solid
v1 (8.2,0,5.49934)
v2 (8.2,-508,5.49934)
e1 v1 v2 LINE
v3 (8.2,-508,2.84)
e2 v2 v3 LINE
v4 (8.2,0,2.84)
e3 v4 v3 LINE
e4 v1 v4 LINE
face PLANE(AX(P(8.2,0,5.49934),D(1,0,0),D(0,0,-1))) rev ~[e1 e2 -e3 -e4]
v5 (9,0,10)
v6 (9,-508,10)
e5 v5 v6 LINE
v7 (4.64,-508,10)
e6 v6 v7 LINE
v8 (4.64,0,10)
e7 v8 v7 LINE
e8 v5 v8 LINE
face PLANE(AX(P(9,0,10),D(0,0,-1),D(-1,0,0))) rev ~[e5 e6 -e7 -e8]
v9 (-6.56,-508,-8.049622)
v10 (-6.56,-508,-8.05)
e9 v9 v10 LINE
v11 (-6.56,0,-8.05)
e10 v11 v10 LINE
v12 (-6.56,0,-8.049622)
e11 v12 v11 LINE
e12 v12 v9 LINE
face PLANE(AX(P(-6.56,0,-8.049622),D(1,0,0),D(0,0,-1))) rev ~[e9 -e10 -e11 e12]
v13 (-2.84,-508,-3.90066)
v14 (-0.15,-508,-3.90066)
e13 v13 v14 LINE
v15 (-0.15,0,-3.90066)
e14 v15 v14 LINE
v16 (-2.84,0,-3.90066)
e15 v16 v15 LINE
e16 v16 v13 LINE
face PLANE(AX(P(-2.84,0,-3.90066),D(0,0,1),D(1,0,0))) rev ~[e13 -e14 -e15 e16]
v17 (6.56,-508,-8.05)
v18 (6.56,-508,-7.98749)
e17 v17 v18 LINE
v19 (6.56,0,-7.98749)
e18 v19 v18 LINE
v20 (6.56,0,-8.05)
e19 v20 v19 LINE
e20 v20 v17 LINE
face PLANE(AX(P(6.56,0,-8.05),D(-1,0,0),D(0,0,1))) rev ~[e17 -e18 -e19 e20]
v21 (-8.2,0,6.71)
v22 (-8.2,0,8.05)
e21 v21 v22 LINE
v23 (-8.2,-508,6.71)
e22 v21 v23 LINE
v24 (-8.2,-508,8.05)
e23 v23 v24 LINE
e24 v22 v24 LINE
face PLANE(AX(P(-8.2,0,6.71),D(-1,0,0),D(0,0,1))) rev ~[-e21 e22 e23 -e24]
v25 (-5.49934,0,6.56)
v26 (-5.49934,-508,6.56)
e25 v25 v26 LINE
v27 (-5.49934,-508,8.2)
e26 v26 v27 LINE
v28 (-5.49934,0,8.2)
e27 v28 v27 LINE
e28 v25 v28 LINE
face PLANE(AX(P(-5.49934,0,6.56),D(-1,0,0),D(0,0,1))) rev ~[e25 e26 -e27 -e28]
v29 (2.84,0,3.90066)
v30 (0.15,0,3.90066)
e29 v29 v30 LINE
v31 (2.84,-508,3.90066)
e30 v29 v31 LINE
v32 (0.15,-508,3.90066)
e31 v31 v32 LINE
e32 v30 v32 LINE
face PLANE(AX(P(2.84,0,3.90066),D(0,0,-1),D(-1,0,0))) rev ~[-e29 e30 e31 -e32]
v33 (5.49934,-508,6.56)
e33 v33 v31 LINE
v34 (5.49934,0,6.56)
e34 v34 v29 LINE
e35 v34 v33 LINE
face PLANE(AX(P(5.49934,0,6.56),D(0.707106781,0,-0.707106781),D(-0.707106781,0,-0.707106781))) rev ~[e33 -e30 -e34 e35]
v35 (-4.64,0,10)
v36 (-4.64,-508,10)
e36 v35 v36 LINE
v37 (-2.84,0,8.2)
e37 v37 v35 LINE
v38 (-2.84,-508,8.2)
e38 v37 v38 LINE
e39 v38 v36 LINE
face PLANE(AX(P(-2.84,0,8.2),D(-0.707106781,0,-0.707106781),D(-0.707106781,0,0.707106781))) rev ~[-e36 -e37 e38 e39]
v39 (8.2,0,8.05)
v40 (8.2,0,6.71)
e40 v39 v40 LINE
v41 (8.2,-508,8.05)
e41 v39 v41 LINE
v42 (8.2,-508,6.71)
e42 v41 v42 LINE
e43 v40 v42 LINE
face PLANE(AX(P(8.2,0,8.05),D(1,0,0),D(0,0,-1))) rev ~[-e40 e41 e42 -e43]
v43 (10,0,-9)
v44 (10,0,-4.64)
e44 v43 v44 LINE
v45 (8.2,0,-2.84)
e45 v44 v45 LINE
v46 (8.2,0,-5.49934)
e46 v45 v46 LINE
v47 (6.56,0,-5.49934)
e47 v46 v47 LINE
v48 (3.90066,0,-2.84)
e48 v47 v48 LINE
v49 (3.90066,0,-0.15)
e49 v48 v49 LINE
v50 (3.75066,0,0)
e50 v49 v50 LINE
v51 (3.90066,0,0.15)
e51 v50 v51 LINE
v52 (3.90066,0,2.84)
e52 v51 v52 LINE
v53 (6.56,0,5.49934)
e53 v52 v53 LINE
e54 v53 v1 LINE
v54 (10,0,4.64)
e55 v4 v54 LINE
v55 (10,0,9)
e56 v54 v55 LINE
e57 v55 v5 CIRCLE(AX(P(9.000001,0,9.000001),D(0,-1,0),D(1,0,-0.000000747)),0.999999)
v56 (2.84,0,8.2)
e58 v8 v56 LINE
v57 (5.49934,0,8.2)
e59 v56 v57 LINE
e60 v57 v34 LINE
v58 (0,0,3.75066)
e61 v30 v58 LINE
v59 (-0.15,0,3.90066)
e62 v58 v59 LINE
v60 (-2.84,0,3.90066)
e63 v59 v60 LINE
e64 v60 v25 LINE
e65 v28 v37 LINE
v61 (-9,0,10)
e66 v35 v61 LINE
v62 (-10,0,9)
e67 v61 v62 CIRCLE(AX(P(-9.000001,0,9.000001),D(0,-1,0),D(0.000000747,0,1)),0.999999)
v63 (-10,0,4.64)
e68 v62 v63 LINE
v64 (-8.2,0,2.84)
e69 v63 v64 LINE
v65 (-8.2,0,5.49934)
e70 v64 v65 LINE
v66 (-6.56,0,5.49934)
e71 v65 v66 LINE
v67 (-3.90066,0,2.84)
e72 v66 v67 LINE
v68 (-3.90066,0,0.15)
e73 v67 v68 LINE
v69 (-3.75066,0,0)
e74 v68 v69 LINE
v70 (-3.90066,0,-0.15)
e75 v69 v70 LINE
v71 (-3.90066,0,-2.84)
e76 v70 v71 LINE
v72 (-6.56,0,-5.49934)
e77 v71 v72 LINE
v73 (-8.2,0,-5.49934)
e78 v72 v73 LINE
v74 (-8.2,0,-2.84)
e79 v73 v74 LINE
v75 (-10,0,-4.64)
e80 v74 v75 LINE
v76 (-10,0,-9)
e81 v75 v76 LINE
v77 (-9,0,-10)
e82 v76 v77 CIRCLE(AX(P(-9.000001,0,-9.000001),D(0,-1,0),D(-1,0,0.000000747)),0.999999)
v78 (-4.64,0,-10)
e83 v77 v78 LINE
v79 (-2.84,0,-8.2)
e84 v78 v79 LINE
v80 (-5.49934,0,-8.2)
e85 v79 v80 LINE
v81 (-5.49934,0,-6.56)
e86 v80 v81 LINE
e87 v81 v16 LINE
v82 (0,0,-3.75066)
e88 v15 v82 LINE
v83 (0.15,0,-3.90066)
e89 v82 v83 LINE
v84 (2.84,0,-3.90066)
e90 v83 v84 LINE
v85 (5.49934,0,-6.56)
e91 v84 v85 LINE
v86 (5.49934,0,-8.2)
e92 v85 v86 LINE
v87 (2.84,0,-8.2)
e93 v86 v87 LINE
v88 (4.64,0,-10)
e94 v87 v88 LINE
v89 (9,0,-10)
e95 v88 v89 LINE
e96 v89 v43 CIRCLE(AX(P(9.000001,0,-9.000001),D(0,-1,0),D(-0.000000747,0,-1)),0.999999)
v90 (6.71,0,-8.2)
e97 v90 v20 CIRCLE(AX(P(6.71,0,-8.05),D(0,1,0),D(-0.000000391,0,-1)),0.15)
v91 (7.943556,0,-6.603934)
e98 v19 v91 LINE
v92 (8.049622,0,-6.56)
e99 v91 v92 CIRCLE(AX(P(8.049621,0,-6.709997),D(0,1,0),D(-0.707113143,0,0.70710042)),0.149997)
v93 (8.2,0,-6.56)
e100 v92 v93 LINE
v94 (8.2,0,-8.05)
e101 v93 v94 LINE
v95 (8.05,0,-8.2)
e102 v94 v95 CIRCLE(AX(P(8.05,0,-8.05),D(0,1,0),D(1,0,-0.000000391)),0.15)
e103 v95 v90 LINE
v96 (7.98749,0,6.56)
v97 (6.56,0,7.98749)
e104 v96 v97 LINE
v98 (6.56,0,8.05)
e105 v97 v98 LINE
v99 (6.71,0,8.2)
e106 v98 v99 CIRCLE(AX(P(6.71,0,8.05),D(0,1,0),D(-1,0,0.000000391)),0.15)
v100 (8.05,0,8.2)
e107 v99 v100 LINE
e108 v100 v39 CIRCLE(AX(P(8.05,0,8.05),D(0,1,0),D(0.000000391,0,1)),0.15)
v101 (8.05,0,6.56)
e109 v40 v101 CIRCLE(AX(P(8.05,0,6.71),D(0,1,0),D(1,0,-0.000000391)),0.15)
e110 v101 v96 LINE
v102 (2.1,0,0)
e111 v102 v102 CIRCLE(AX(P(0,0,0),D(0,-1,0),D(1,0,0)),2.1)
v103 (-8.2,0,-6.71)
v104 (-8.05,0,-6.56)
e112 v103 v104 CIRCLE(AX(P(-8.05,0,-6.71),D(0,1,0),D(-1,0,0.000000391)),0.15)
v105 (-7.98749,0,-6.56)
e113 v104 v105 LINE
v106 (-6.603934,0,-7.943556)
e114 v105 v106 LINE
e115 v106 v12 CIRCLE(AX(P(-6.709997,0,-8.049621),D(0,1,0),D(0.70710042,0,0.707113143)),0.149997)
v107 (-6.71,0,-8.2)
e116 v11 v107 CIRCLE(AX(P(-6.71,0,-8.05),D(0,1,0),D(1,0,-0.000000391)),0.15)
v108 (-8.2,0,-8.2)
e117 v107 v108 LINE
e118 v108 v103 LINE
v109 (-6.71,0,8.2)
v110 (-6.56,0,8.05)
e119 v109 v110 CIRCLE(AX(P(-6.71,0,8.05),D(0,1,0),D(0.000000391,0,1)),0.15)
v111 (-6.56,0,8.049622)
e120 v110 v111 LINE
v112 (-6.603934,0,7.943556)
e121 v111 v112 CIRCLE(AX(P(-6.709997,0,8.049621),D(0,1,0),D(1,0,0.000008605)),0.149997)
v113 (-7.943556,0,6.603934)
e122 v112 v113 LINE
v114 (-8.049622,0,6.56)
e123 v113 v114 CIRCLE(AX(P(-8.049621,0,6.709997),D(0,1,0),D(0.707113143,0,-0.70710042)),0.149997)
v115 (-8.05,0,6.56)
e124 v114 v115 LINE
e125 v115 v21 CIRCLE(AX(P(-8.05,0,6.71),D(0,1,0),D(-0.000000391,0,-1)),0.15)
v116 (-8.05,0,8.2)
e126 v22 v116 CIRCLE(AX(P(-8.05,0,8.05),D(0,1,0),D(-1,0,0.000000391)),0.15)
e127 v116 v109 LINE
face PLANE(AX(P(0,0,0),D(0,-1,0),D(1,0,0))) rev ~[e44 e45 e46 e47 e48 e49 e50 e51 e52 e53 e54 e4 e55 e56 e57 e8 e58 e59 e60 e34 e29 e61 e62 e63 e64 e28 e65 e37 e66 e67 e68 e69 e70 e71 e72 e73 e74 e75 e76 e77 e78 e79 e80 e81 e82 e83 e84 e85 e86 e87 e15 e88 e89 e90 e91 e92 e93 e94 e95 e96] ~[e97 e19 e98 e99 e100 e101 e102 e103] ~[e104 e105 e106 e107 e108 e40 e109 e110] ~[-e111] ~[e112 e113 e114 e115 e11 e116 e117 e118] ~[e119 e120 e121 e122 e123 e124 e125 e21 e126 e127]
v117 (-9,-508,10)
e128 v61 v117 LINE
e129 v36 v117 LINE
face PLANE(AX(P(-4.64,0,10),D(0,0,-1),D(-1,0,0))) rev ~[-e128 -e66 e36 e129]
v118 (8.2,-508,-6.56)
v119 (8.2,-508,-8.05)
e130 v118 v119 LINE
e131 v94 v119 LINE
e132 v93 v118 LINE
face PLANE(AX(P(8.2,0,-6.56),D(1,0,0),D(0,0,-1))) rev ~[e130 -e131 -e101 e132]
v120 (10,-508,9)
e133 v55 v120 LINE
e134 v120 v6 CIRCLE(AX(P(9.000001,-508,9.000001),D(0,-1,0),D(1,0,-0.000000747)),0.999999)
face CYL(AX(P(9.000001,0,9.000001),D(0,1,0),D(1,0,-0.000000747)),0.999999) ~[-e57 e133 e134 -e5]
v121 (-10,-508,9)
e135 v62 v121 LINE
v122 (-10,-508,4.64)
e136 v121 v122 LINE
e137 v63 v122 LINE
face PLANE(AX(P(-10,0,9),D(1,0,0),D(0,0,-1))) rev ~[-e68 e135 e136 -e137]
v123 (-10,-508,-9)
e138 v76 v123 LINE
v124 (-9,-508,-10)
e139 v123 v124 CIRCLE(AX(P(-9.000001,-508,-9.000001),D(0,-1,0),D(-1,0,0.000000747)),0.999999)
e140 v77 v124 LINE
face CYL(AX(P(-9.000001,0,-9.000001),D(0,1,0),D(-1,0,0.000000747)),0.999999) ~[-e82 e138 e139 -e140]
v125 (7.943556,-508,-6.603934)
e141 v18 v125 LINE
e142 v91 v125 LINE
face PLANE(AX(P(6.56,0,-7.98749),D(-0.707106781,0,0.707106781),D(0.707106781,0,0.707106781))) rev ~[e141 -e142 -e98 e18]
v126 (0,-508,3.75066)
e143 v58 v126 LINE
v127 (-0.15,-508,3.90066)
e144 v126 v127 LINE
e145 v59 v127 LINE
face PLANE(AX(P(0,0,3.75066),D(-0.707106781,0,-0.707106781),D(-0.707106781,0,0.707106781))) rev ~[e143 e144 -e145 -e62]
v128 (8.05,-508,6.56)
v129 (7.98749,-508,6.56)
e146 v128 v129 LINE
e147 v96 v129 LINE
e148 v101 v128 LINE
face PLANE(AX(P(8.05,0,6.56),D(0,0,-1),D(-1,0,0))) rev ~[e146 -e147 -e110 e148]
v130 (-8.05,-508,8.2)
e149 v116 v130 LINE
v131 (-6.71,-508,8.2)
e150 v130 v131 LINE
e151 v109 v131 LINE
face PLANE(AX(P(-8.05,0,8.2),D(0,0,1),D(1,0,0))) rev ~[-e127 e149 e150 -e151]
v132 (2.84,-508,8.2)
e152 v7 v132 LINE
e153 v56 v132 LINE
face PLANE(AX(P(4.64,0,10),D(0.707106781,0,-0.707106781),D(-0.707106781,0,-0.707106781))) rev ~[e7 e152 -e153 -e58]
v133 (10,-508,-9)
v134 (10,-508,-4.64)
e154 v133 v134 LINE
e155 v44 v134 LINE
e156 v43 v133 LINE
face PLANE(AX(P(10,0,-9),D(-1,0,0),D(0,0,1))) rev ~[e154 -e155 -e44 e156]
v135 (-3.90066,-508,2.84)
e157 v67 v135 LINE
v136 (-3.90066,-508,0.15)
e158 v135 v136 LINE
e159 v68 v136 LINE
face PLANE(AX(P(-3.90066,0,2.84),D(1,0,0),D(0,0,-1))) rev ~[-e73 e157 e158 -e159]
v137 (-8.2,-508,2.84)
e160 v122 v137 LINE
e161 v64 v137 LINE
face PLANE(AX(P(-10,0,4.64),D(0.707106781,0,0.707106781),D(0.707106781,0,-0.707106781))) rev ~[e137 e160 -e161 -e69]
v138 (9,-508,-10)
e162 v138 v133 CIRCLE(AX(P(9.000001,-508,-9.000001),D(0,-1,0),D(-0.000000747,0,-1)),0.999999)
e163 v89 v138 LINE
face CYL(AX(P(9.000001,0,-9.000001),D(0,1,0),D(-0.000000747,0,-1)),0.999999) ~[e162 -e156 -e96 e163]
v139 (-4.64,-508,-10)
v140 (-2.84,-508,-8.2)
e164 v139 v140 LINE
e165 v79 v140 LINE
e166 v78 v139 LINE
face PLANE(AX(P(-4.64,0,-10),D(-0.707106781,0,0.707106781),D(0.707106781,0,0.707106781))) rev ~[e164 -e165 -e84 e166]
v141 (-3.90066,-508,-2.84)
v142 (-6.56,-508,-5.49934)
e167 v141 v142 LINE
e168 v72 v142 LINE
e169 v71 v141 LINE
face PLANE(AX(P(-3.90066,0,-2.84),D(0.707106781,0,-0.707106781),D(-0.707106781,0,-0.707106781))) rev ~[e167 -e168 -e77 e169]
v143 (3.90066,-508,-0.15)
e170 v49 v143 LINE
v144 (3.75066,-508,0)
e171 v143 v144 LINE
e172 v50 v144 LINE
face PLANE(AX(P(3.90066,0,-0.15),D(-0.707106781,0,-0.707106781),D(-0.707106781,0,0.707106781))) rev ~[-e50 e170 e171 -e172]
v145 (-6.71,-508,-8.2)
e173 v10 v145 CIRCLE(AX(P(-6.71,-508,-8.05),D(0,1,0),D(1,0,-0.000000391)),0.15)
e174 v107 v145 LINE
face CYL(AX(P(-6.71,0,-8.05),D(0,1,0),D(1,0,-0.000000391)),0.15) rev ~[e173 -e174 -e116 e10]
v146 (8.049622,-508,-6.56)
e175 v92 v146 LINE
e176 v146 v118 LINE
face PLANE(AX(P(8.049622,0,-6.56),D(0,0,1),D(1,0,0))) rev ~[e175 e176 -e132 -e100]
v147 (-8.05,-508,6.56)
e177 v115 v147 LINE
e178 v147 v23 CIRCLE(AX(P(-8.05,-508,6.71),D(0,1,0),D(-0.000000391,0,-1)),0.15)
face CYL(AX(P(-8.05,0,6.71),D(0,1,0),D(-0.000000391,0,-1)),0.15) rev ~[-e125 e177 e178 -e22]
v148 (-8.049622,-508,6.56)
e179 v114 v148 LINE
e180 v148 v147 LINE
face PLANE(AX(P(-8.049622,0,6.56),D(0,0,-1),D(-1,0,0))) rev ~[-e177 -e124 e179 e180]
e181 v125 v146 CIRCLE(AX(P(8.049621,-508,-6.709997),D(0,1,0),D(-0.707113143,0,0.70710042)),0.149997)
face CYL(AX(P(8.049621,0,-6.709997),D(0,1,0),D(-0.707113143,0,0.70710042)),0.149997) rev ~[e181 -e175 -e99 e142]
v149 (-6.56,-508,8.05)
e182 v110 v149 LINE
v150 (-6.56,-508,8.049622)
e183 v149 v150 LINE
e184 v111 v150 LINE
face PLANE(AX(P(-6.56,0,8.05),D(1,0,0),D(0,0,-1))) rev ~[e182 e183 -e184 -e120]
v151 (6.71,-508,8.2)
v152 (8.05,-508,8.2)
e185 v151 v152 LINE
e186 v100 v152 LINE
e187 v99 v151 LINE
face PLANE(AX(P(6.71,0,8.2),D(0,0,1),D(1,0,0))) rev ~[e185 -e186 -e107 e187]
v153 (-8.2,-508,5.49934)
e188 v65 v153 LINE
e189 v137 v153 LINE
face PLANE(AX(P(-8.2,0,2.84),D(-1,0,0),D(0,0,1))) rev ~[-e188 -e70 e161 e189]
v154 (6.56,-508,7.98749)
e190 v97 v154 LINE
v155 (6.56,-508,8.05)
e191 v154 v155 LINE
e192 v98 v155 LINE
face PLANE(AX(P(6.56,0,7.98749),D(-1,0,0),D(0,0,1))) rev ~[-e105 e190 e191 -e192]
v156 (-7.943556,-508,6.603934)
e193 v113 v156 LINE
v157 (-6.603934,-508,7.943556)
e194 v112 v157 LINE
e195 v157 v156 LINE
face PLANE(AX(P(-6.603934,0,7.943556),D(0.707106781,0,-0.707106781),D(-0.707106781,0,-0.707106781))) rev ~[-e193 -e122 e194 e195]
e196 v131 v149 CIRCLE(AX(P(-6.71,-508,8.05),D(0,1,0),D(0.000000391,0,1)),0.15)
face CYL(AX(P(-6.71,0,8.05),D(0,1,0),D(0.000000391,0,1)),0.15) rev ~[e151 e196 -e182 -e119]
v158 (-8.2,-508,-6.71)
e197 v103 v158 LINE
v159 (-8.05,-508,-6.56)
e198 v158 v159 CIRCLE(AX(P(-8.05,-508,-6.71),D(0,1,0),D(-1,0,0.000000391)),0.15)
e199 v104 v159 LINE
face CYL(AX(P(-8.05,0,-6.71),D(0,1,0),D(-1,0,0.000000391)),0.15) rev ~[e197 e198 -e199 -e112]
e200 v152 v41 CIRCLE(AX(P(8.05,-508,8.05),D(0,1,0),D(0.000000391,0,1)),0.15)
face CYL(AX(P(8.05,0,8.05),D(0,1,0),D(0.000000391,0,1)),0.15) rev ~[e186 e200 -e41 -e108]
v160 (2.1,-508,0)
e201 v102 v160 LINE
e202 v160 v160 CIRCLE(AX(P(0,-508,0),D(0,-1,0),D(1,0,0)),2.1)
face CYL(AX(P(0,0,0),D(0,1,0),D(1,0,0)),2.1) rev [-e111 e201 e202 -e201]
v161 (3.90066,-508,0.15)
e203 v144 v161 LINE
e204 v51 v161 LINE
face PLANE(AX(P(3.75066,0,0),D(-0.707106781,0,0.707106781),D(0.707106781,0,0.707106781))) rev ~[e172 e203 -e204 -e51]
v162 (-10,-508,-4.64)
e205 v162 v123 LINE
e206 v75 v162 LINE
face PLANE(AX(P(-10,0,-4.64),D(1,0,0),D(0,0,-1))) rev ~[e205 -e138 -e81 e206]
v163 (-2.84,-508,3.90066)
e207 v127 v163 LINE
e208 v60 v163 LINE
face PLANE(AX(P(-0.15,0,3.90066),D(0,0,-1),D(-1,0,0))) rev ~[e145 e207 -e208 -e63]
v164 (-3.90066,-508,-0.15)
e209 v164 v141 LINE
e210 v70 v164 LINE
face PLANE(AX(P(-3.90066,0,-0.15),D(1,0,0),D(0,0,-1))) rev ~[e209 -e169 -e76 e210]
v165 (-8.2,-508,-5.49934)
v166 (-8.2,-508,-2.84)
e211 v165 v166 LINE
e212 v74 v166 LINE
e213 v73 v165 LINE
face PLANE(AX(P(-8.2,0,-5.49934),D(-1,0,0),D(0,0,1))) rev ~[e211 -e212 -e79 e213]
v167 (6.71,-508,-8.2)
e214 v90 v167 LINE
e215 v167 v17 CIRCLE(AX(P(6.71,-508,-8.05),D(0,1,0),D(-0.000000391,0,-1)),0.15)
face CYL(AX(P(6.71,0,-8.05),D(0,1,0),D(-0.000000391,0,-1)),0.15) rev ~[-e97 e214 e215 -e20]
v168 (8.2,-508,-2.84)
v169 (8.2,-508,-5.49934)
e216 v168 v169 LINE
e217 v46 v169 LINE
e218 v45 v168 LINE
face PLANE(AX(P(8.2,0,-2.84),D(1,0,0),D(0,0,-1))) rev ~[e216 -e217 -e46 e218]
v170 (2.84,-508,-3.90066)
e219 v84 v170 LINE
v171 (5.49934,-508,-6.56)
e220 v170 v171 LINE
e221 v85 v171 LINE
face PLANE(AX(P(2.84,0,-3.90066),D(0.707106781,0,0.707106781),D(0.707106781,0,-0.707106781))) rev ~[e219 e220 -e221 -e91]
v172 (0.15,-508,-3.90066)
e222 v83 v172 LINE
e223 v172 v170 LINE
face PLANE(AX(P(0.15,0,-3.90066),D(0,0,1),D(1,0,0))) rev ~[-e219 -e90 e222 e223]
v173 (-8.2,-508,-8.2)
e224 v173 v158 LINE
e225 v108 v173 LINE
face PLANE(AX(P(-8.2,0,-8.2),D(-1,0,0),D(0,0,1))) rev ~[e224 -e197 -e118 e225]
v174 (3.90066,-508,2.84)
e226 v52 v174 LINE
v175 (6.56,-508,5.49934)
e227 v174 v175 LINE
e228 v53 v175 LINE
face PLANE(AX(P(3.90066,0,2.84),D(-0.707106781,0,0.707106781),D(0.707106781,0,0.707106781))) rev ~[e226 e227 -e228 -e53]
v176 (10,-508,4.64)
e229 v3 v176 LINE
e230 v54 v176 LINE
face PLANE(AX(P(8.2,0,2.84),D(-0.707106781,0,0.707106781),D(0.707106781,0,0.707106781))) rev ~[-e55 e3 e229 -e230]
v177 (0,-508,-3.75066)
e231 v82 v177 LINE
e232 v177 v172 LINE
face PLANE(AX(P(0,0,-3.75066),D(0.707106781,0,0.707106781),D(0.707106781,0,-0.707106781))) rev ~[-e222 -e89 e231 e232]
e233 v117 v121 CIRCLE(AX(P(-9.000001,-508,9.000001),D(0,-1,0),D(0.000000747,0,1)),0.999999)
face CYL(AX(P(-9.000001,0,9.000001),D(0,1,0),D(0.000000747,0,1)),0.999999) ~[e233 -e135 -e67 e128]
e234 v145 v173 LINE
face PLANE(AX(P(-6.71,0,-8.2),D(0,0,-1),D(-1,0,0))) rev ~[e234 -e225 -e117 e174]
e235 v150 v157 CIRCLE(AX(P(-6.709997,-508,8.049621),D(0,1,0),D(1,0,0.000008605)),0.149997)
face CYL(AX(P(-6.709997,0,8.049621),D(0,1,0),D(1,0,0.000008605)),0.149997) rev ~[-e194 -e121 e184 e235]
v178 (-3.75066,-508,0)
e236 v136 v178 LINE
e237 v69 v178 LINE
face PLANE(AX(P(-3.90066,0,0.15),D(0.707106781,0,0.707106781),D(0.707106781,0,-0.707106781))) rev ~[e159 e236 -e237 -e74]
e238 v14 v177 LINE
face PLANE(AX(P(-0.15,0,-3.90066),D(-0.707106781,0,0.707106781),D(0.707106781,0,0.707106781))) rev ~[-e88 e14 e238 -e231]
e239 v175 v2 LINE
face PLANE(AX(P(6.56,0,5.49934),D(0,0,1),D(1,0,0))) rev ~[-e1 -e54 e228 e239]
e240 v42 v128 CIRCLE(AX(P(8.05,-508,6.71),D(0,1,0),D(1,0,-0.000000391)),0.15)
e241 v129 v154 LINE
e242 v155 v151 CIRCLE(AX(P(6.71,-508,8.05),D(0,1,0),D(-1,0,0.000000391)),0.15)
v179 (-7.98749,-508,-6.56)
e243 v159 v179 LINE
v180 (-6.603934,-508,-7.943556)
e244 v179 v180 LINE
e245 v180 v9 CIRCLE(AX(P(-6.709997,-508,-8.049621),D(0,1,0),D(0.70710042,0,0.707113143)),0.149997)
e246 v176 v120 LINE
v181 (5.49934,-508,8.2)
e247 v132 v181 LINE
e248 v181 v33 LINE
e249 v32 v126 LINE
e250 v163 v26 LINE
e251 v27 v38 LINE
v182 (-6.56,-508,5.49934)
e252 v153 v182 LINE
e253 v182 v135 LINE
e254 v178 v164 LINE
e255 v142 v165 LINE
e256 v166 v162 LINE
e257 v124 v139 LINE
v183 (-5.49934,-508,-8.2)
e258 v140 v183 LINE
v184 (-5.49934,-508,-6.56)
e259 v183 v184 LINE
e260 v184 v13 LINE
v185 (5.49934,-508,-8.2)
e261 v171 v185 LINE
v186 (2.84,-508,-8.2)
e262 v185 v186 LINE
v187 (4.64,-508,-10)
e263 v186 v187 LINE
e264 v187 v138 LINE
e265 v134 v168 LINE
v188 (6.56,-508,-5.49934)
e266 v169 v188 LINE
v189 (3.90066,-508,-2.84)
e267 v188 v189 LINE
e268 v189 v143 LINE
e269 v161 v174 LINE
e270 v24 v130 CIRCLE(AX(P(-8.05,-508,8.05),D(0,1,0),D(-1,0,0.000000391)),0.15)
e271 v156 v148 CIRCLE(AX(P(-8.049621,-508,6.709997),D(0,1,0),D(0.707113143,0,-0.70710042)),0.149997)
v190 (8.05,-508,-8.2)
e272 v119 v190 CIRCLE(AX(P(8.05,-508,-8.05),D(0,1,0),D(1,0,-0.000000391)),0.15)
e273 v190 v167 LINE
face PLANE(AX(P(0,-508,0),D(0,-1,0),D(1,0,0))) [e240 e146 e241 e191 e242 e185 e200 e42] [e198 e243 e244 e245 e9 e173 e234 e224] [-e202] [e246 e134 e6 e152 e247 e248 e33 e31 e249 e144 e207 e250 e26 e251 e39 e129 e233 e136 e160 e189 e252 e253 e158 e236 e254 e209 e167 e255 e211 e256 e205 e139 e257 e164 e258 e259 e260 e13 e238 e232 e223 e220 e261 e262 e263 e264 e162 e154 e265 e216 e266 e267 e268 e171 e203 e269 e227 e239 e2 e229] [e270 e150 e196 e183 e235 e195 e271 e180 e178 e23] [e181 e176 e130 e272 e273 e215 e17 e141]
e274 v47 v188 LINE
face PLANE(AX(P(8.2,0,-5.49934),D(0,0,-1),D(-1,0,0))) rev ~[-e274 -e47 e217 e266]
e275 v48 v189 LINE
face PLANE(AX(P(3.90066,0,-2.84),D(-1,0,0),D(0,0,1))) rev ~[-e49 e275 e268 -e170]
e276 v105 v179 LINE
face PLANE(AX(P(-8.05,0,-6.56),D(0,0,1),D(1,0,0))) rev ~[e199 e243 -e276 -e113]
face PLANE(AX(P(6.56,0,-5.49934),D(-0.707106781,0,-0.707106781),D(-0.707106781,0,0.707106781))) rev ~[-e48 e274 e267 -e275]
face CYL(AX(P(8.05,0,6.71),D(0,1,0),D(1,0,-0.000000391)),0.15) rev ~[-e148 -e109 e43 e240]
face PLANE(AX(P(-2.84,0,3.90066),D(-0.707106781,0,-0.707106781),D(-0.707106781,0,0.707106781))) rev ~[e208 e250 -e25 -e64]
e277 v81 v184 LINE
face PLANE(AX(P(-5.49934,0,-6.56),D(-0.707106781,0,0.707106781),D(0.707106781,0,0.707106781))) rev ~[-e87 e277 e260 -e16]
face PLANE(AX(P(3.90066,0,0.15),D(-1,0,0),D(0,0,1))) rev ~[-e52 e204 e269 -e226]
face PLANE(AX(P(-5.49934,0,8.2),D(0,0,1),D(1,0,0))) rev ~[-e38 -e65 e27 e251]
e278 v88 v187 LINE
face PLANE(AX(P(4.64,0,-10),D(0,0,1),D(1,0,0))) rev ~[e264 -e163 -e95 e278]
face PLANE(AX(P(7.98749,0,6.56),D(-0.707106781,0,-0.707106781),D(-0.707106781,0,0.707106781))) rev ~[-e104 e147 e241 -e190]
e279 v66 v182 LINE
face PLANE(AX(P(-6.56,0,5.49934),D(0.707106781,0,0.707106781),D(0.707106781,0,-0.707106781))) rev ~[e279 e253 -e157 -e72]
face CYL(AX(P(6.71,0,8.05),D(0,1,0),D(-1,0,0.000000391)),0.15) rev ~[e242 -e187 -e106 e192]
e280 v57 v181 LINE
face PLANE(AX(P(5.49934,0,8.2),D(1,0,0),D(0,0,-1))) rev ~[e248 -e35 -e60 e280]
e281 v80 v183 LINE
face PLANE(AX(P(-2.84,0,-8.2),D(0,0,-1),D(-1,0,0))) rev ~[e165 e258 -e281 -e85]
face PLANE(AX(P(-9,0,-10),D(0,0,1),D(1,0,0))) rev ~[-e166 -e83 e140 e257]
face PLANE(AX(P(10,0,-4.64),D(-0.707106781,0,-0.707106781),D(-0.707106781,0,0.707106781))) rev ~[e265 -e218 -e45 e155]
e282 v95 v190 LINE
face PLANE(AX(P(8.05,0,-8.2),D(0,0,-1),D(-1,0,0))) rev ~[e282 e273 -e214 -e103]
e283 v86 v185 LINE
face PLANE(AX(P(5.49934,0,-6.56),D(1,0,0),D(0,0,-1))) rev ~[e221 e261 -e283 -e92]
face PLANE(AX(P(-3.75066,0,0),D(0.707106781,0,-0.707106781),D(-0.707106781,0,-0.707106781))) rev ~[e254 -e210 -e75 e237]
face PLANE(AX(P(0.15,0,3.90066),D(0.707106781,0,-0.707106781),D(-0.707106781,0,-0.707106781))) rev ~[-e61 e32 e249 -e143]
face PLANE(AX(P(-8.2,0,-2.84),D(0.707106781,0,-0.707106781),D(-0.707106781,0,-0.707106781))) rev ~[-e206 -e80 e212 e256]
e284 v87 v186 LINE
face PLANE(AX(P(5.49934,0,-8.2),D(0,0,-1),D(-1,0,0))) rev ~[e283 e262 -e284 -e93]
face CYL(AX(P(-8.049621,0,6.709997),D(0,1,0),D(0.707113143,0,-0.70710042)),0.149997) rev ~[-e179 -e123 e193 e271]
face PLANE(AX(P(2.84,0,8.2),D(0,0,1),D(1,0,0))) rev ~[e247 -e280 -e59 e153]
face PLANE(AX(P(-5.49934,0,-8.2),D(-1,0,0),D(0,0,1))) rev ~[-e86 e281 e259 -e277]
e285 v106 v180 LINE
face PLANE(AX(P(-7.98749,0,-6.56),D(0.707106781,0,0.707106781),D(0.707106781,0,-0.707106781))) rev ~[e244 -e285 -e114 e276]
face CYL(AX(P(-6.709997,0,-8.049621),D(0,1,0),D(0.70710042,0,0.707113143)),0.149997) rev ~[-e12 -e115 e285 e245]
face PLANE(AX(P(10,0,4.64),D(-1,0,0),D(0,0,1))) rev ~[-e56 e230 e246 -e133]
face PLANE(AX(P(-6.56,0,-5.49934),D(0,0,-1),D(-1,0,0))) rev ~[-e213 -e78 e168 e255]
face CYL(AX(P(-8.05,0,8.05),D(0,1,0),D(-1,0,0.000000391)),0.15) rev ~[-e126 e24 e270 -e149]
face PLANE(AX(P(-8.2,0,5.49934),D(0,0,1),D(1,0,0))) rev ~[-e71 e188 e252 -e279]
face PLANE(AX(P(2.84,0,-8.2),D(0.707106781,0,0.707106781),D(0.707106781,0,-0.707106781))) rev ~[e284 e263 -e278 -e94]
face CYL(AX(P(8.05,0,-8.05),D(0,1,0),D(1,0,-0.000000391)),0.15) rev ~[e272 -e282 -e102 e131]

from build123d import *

# Parameters (mm, degrees)
F0_R     = 2.1
F1_DEPTH = 508


with BuildPart() as f1:
    # F0 (on Front) → F1 (new body)
    with BuildSketch(Plane.XZ):
        with BuildLine():
            Line((-4.64, 10), (-9, 10))
            ThreePointArc((-9, 10), (-9.707107, 9.707107), (-10, 9))
            Line((-10, 9), (-10, 4.64))
            Line((-10, 4.64), (-8.2, 2.84))
            Line((-8.2, 2.84), (-8.2, 5.49934))
            Line((-8.2, 5.49934), (-6.56, 5.49934))
            Line((-6.56, 5.49934), (-3.90066, 2.84))
            Line((-3.90066, 2.84), (-3.90066, 0.15))
            Line((-3.90066, 0.15), (-3.75066, 0))
            Line((-3.75066, 0), (-3.90066, -0.15))
            Line((-3.90066, -0.15), (-3.90066, -2.84))
            Line((-3.90066, -2.84), (-6.56, -5.49934))
            Line((-6.56, -5.49934), (-8.2, -5.49934))
            Line((-8.2, -5.49934), (-8.2, -2.84))
            Line((-8.2, -2.84), (-10, -4.64))
            Line((-10, -4.64), (-10, -9))
            ThreePointArc((-10, -9), (-9.707107, -9.707107), (-9, -10))
            Line((-9, -10), (-4.64, -10))
            Line((-4.64, -10), (-2.84, -8.2))
            Line((-2.84, -8.2), (-5.49934, -8.2))
            Line((-5.49934, -8.2), (-5.49934, -6.56))
            Line((-5.49934, -6.56), (-2.84, -3.90066))
            Line((-2.84, -3.90066), (-0.15, -3.90066))
            Line((-0.15, -3.90066), (0, -3.75066))
            Line((0, -3.75066), (0.15, -3.90066))
            Line((0.15, -3.90066), (2.84, -3.90066))
            Line((2.84, -3.90066), (5.49934, -6.56))
            Line((5.49934, -6.56), (5.49934, -8.2))
            Line((5.49934, -8.2), (2.84, -8.2))
            Line((2.84, -8.2), (4.64, -10))
            Line((4.64, -10), (9, -10))
            ThreePointArc((9, -10), (9.707107, -9.707107), (10, -9))
            Line((10, -9), (10, -4.64))
            Line((10, -4.64), (8.2, -2.84))
            Line((8.2, -2.84), (8.2, -5.49934))
            Line((8.2, -5.49934), (6.56, -5.49934))
            Line((6.56, -5.49934), (3.90066, -2.84))
            Line((3.90066, -2.84), (3.90066, -0.15))
            Line((3.90066, -0.15), (3.75066, 0))
            Line((3.75066, 0), (3.90066, 0.15))
            Line((3.90066, 0.15), (3.90066, 2.84))
            Line((3.90066, 2.84), (6.56, 5.49934))
            Line((6.56, 5.49934), (8.2, 5.49934))
            Line((8.2, 5.49934), (8.2, 2.84))
            Line((8.2, 2.84), (10, 4.64))
            Line((10, 4.64), (10, 9))
            ThreePointArc((10, 9), (9.707107, 9.707107), (9, 10))
            Line((9, 10), (4.64, 10))
            Line((4.64, 10), (2.84, 8.2))
            Line((2.84, 8.2), (5.49934, 8.2))
            Line((5.49934, 8.2), (5.49934, 6.56))
            Line((5.49934, 6.56), (2.84, 3.90066))
            Line((2.84, 3.90066), (0.15, 3.90066))
            Line((0.15, 3.90066), (0, 3.75066))
            Line((0, 3.75066), (-0.15, 3.90066))
            Line((-0.15, 3.90066), (-2.84, 3.90066))
            Line((-2.84, 3.90066), (-5.49934, 6.56))
            Line((-5.49934, 6.56), (-5.49934, 8.2))
            Line((-5.49934, 8.2), (-2.84, 8.2))
            Line((-2.84, 8.2), (-4.64, 10))
        make_face()
        with BuildLine():
            Line((-8.2, -8.2), (-8.2, -6.71))
            ThreePointArc((-8.2, -6.71), (-8.156066, -6.603934), (-8.05, -6.56))
            Line((-8.05, -6.56), (-7.98749, -6.56))
            Line((-7.98749, -6.56), (-6.603934, -7.943556))
            ThreePointArc((-6.603934, -7.943556), (-6.571418, -7.992219), (-6.56, -8.049622))
            Line((-6.56, -8.049622), (-6.56, -8.05))
            ThreePointArc((-6.56, -8.05), (-6.603934, -8.156066), (-6.71, -8.2))
            Line((-6.71, -8.2), (-8.2, -8.2))
        make_face(mode=Mode.SUBTRACT)
        with BuildLine():
            ThreePointArc((6.71, -8.2), (6.603934, -8.156066), (6.56, -8.05))
            Line((6.56, -8.05), (6.56, -7.98749))
            Line((6.56, -7.98749), (7.943556, -6.603934))
            ThreePointArc((7.943556, -6.603934), (7.992219, -6.571418), (8.049622, -6.56))
            Line((8.049622, -6.56), (8.2, -6.56))
            Line((8.2, -6.56), (8.2, -8.05))
            ThreePointArc((8.2, -8.05), (8.156066, -8.156066), (8.05, -8.2))
            Line((8.05, -8.2), (6.71, -8.2))
        make_face(mode=Mode.SUBTRACT)
        with BuildLine():
            ThreePointArc((-8.2, 8.05), (-8.156066, 8.156066), (-8.05, 8.2))
            Line((-8.05, 8.2), (-6.71, 8.2))
            ThreePointArc((-6.71, 8.2), (-6.603934, 8.156066), (-6.56, 8.05))
            Line((-6.56, 8.05), (-6.56, 8.049622))
            ThreePointArc((-6.56, 8.049622), (-6.571418, 7.992219), (-6.603934, 7.943556))
            Line((-6.603934, 7.943556), (-7.943556, 6.603934))
            ThreePointArc((-7.943556, 6.603934), (-7.992219, 6.571418), (-8.049622, 6.56))
            Line((-8.049622, 6.56), (-8.05, 6.56))
            ThreePointArc((-8.05, 6.56), (-8.156066, 6.603934), (-8.2, 6.71))
            Line((-8.2, 6.71), (-8.2, 8.05))
        make_face(mode=Mode.SUBTRACT)
        Circle(F0_R, mode=Mode.SUBTRACT)
        with BuildLine():
            Line((8.2, 8.05), (8.2, 6.71))
            ThreePointArc((8.2, 6.71), (8.156066, 6.603934), (8.05, 6.56))
            Line((8.05, 6.56), (7.98749, 6.56))
            Line((7.98749, 6.56), (6.56, 7.98749))
            Line((6.56, 7.98749), (6.56, 8.05))
            ThreePointArc((6.56, 8.05), (6.603934, 8.156066), (6.71, 8.2))
            Line((6.71, 8.2), (8.05, 8.2))
            ThreePointArc((8.05, 8.2), (8.156066, 8.156066), (8.2, 8.05))
        make_face(mode=Mode.SUBTRACT)
    extrude(amount=F1_DEPTH)


solid = f1.part
